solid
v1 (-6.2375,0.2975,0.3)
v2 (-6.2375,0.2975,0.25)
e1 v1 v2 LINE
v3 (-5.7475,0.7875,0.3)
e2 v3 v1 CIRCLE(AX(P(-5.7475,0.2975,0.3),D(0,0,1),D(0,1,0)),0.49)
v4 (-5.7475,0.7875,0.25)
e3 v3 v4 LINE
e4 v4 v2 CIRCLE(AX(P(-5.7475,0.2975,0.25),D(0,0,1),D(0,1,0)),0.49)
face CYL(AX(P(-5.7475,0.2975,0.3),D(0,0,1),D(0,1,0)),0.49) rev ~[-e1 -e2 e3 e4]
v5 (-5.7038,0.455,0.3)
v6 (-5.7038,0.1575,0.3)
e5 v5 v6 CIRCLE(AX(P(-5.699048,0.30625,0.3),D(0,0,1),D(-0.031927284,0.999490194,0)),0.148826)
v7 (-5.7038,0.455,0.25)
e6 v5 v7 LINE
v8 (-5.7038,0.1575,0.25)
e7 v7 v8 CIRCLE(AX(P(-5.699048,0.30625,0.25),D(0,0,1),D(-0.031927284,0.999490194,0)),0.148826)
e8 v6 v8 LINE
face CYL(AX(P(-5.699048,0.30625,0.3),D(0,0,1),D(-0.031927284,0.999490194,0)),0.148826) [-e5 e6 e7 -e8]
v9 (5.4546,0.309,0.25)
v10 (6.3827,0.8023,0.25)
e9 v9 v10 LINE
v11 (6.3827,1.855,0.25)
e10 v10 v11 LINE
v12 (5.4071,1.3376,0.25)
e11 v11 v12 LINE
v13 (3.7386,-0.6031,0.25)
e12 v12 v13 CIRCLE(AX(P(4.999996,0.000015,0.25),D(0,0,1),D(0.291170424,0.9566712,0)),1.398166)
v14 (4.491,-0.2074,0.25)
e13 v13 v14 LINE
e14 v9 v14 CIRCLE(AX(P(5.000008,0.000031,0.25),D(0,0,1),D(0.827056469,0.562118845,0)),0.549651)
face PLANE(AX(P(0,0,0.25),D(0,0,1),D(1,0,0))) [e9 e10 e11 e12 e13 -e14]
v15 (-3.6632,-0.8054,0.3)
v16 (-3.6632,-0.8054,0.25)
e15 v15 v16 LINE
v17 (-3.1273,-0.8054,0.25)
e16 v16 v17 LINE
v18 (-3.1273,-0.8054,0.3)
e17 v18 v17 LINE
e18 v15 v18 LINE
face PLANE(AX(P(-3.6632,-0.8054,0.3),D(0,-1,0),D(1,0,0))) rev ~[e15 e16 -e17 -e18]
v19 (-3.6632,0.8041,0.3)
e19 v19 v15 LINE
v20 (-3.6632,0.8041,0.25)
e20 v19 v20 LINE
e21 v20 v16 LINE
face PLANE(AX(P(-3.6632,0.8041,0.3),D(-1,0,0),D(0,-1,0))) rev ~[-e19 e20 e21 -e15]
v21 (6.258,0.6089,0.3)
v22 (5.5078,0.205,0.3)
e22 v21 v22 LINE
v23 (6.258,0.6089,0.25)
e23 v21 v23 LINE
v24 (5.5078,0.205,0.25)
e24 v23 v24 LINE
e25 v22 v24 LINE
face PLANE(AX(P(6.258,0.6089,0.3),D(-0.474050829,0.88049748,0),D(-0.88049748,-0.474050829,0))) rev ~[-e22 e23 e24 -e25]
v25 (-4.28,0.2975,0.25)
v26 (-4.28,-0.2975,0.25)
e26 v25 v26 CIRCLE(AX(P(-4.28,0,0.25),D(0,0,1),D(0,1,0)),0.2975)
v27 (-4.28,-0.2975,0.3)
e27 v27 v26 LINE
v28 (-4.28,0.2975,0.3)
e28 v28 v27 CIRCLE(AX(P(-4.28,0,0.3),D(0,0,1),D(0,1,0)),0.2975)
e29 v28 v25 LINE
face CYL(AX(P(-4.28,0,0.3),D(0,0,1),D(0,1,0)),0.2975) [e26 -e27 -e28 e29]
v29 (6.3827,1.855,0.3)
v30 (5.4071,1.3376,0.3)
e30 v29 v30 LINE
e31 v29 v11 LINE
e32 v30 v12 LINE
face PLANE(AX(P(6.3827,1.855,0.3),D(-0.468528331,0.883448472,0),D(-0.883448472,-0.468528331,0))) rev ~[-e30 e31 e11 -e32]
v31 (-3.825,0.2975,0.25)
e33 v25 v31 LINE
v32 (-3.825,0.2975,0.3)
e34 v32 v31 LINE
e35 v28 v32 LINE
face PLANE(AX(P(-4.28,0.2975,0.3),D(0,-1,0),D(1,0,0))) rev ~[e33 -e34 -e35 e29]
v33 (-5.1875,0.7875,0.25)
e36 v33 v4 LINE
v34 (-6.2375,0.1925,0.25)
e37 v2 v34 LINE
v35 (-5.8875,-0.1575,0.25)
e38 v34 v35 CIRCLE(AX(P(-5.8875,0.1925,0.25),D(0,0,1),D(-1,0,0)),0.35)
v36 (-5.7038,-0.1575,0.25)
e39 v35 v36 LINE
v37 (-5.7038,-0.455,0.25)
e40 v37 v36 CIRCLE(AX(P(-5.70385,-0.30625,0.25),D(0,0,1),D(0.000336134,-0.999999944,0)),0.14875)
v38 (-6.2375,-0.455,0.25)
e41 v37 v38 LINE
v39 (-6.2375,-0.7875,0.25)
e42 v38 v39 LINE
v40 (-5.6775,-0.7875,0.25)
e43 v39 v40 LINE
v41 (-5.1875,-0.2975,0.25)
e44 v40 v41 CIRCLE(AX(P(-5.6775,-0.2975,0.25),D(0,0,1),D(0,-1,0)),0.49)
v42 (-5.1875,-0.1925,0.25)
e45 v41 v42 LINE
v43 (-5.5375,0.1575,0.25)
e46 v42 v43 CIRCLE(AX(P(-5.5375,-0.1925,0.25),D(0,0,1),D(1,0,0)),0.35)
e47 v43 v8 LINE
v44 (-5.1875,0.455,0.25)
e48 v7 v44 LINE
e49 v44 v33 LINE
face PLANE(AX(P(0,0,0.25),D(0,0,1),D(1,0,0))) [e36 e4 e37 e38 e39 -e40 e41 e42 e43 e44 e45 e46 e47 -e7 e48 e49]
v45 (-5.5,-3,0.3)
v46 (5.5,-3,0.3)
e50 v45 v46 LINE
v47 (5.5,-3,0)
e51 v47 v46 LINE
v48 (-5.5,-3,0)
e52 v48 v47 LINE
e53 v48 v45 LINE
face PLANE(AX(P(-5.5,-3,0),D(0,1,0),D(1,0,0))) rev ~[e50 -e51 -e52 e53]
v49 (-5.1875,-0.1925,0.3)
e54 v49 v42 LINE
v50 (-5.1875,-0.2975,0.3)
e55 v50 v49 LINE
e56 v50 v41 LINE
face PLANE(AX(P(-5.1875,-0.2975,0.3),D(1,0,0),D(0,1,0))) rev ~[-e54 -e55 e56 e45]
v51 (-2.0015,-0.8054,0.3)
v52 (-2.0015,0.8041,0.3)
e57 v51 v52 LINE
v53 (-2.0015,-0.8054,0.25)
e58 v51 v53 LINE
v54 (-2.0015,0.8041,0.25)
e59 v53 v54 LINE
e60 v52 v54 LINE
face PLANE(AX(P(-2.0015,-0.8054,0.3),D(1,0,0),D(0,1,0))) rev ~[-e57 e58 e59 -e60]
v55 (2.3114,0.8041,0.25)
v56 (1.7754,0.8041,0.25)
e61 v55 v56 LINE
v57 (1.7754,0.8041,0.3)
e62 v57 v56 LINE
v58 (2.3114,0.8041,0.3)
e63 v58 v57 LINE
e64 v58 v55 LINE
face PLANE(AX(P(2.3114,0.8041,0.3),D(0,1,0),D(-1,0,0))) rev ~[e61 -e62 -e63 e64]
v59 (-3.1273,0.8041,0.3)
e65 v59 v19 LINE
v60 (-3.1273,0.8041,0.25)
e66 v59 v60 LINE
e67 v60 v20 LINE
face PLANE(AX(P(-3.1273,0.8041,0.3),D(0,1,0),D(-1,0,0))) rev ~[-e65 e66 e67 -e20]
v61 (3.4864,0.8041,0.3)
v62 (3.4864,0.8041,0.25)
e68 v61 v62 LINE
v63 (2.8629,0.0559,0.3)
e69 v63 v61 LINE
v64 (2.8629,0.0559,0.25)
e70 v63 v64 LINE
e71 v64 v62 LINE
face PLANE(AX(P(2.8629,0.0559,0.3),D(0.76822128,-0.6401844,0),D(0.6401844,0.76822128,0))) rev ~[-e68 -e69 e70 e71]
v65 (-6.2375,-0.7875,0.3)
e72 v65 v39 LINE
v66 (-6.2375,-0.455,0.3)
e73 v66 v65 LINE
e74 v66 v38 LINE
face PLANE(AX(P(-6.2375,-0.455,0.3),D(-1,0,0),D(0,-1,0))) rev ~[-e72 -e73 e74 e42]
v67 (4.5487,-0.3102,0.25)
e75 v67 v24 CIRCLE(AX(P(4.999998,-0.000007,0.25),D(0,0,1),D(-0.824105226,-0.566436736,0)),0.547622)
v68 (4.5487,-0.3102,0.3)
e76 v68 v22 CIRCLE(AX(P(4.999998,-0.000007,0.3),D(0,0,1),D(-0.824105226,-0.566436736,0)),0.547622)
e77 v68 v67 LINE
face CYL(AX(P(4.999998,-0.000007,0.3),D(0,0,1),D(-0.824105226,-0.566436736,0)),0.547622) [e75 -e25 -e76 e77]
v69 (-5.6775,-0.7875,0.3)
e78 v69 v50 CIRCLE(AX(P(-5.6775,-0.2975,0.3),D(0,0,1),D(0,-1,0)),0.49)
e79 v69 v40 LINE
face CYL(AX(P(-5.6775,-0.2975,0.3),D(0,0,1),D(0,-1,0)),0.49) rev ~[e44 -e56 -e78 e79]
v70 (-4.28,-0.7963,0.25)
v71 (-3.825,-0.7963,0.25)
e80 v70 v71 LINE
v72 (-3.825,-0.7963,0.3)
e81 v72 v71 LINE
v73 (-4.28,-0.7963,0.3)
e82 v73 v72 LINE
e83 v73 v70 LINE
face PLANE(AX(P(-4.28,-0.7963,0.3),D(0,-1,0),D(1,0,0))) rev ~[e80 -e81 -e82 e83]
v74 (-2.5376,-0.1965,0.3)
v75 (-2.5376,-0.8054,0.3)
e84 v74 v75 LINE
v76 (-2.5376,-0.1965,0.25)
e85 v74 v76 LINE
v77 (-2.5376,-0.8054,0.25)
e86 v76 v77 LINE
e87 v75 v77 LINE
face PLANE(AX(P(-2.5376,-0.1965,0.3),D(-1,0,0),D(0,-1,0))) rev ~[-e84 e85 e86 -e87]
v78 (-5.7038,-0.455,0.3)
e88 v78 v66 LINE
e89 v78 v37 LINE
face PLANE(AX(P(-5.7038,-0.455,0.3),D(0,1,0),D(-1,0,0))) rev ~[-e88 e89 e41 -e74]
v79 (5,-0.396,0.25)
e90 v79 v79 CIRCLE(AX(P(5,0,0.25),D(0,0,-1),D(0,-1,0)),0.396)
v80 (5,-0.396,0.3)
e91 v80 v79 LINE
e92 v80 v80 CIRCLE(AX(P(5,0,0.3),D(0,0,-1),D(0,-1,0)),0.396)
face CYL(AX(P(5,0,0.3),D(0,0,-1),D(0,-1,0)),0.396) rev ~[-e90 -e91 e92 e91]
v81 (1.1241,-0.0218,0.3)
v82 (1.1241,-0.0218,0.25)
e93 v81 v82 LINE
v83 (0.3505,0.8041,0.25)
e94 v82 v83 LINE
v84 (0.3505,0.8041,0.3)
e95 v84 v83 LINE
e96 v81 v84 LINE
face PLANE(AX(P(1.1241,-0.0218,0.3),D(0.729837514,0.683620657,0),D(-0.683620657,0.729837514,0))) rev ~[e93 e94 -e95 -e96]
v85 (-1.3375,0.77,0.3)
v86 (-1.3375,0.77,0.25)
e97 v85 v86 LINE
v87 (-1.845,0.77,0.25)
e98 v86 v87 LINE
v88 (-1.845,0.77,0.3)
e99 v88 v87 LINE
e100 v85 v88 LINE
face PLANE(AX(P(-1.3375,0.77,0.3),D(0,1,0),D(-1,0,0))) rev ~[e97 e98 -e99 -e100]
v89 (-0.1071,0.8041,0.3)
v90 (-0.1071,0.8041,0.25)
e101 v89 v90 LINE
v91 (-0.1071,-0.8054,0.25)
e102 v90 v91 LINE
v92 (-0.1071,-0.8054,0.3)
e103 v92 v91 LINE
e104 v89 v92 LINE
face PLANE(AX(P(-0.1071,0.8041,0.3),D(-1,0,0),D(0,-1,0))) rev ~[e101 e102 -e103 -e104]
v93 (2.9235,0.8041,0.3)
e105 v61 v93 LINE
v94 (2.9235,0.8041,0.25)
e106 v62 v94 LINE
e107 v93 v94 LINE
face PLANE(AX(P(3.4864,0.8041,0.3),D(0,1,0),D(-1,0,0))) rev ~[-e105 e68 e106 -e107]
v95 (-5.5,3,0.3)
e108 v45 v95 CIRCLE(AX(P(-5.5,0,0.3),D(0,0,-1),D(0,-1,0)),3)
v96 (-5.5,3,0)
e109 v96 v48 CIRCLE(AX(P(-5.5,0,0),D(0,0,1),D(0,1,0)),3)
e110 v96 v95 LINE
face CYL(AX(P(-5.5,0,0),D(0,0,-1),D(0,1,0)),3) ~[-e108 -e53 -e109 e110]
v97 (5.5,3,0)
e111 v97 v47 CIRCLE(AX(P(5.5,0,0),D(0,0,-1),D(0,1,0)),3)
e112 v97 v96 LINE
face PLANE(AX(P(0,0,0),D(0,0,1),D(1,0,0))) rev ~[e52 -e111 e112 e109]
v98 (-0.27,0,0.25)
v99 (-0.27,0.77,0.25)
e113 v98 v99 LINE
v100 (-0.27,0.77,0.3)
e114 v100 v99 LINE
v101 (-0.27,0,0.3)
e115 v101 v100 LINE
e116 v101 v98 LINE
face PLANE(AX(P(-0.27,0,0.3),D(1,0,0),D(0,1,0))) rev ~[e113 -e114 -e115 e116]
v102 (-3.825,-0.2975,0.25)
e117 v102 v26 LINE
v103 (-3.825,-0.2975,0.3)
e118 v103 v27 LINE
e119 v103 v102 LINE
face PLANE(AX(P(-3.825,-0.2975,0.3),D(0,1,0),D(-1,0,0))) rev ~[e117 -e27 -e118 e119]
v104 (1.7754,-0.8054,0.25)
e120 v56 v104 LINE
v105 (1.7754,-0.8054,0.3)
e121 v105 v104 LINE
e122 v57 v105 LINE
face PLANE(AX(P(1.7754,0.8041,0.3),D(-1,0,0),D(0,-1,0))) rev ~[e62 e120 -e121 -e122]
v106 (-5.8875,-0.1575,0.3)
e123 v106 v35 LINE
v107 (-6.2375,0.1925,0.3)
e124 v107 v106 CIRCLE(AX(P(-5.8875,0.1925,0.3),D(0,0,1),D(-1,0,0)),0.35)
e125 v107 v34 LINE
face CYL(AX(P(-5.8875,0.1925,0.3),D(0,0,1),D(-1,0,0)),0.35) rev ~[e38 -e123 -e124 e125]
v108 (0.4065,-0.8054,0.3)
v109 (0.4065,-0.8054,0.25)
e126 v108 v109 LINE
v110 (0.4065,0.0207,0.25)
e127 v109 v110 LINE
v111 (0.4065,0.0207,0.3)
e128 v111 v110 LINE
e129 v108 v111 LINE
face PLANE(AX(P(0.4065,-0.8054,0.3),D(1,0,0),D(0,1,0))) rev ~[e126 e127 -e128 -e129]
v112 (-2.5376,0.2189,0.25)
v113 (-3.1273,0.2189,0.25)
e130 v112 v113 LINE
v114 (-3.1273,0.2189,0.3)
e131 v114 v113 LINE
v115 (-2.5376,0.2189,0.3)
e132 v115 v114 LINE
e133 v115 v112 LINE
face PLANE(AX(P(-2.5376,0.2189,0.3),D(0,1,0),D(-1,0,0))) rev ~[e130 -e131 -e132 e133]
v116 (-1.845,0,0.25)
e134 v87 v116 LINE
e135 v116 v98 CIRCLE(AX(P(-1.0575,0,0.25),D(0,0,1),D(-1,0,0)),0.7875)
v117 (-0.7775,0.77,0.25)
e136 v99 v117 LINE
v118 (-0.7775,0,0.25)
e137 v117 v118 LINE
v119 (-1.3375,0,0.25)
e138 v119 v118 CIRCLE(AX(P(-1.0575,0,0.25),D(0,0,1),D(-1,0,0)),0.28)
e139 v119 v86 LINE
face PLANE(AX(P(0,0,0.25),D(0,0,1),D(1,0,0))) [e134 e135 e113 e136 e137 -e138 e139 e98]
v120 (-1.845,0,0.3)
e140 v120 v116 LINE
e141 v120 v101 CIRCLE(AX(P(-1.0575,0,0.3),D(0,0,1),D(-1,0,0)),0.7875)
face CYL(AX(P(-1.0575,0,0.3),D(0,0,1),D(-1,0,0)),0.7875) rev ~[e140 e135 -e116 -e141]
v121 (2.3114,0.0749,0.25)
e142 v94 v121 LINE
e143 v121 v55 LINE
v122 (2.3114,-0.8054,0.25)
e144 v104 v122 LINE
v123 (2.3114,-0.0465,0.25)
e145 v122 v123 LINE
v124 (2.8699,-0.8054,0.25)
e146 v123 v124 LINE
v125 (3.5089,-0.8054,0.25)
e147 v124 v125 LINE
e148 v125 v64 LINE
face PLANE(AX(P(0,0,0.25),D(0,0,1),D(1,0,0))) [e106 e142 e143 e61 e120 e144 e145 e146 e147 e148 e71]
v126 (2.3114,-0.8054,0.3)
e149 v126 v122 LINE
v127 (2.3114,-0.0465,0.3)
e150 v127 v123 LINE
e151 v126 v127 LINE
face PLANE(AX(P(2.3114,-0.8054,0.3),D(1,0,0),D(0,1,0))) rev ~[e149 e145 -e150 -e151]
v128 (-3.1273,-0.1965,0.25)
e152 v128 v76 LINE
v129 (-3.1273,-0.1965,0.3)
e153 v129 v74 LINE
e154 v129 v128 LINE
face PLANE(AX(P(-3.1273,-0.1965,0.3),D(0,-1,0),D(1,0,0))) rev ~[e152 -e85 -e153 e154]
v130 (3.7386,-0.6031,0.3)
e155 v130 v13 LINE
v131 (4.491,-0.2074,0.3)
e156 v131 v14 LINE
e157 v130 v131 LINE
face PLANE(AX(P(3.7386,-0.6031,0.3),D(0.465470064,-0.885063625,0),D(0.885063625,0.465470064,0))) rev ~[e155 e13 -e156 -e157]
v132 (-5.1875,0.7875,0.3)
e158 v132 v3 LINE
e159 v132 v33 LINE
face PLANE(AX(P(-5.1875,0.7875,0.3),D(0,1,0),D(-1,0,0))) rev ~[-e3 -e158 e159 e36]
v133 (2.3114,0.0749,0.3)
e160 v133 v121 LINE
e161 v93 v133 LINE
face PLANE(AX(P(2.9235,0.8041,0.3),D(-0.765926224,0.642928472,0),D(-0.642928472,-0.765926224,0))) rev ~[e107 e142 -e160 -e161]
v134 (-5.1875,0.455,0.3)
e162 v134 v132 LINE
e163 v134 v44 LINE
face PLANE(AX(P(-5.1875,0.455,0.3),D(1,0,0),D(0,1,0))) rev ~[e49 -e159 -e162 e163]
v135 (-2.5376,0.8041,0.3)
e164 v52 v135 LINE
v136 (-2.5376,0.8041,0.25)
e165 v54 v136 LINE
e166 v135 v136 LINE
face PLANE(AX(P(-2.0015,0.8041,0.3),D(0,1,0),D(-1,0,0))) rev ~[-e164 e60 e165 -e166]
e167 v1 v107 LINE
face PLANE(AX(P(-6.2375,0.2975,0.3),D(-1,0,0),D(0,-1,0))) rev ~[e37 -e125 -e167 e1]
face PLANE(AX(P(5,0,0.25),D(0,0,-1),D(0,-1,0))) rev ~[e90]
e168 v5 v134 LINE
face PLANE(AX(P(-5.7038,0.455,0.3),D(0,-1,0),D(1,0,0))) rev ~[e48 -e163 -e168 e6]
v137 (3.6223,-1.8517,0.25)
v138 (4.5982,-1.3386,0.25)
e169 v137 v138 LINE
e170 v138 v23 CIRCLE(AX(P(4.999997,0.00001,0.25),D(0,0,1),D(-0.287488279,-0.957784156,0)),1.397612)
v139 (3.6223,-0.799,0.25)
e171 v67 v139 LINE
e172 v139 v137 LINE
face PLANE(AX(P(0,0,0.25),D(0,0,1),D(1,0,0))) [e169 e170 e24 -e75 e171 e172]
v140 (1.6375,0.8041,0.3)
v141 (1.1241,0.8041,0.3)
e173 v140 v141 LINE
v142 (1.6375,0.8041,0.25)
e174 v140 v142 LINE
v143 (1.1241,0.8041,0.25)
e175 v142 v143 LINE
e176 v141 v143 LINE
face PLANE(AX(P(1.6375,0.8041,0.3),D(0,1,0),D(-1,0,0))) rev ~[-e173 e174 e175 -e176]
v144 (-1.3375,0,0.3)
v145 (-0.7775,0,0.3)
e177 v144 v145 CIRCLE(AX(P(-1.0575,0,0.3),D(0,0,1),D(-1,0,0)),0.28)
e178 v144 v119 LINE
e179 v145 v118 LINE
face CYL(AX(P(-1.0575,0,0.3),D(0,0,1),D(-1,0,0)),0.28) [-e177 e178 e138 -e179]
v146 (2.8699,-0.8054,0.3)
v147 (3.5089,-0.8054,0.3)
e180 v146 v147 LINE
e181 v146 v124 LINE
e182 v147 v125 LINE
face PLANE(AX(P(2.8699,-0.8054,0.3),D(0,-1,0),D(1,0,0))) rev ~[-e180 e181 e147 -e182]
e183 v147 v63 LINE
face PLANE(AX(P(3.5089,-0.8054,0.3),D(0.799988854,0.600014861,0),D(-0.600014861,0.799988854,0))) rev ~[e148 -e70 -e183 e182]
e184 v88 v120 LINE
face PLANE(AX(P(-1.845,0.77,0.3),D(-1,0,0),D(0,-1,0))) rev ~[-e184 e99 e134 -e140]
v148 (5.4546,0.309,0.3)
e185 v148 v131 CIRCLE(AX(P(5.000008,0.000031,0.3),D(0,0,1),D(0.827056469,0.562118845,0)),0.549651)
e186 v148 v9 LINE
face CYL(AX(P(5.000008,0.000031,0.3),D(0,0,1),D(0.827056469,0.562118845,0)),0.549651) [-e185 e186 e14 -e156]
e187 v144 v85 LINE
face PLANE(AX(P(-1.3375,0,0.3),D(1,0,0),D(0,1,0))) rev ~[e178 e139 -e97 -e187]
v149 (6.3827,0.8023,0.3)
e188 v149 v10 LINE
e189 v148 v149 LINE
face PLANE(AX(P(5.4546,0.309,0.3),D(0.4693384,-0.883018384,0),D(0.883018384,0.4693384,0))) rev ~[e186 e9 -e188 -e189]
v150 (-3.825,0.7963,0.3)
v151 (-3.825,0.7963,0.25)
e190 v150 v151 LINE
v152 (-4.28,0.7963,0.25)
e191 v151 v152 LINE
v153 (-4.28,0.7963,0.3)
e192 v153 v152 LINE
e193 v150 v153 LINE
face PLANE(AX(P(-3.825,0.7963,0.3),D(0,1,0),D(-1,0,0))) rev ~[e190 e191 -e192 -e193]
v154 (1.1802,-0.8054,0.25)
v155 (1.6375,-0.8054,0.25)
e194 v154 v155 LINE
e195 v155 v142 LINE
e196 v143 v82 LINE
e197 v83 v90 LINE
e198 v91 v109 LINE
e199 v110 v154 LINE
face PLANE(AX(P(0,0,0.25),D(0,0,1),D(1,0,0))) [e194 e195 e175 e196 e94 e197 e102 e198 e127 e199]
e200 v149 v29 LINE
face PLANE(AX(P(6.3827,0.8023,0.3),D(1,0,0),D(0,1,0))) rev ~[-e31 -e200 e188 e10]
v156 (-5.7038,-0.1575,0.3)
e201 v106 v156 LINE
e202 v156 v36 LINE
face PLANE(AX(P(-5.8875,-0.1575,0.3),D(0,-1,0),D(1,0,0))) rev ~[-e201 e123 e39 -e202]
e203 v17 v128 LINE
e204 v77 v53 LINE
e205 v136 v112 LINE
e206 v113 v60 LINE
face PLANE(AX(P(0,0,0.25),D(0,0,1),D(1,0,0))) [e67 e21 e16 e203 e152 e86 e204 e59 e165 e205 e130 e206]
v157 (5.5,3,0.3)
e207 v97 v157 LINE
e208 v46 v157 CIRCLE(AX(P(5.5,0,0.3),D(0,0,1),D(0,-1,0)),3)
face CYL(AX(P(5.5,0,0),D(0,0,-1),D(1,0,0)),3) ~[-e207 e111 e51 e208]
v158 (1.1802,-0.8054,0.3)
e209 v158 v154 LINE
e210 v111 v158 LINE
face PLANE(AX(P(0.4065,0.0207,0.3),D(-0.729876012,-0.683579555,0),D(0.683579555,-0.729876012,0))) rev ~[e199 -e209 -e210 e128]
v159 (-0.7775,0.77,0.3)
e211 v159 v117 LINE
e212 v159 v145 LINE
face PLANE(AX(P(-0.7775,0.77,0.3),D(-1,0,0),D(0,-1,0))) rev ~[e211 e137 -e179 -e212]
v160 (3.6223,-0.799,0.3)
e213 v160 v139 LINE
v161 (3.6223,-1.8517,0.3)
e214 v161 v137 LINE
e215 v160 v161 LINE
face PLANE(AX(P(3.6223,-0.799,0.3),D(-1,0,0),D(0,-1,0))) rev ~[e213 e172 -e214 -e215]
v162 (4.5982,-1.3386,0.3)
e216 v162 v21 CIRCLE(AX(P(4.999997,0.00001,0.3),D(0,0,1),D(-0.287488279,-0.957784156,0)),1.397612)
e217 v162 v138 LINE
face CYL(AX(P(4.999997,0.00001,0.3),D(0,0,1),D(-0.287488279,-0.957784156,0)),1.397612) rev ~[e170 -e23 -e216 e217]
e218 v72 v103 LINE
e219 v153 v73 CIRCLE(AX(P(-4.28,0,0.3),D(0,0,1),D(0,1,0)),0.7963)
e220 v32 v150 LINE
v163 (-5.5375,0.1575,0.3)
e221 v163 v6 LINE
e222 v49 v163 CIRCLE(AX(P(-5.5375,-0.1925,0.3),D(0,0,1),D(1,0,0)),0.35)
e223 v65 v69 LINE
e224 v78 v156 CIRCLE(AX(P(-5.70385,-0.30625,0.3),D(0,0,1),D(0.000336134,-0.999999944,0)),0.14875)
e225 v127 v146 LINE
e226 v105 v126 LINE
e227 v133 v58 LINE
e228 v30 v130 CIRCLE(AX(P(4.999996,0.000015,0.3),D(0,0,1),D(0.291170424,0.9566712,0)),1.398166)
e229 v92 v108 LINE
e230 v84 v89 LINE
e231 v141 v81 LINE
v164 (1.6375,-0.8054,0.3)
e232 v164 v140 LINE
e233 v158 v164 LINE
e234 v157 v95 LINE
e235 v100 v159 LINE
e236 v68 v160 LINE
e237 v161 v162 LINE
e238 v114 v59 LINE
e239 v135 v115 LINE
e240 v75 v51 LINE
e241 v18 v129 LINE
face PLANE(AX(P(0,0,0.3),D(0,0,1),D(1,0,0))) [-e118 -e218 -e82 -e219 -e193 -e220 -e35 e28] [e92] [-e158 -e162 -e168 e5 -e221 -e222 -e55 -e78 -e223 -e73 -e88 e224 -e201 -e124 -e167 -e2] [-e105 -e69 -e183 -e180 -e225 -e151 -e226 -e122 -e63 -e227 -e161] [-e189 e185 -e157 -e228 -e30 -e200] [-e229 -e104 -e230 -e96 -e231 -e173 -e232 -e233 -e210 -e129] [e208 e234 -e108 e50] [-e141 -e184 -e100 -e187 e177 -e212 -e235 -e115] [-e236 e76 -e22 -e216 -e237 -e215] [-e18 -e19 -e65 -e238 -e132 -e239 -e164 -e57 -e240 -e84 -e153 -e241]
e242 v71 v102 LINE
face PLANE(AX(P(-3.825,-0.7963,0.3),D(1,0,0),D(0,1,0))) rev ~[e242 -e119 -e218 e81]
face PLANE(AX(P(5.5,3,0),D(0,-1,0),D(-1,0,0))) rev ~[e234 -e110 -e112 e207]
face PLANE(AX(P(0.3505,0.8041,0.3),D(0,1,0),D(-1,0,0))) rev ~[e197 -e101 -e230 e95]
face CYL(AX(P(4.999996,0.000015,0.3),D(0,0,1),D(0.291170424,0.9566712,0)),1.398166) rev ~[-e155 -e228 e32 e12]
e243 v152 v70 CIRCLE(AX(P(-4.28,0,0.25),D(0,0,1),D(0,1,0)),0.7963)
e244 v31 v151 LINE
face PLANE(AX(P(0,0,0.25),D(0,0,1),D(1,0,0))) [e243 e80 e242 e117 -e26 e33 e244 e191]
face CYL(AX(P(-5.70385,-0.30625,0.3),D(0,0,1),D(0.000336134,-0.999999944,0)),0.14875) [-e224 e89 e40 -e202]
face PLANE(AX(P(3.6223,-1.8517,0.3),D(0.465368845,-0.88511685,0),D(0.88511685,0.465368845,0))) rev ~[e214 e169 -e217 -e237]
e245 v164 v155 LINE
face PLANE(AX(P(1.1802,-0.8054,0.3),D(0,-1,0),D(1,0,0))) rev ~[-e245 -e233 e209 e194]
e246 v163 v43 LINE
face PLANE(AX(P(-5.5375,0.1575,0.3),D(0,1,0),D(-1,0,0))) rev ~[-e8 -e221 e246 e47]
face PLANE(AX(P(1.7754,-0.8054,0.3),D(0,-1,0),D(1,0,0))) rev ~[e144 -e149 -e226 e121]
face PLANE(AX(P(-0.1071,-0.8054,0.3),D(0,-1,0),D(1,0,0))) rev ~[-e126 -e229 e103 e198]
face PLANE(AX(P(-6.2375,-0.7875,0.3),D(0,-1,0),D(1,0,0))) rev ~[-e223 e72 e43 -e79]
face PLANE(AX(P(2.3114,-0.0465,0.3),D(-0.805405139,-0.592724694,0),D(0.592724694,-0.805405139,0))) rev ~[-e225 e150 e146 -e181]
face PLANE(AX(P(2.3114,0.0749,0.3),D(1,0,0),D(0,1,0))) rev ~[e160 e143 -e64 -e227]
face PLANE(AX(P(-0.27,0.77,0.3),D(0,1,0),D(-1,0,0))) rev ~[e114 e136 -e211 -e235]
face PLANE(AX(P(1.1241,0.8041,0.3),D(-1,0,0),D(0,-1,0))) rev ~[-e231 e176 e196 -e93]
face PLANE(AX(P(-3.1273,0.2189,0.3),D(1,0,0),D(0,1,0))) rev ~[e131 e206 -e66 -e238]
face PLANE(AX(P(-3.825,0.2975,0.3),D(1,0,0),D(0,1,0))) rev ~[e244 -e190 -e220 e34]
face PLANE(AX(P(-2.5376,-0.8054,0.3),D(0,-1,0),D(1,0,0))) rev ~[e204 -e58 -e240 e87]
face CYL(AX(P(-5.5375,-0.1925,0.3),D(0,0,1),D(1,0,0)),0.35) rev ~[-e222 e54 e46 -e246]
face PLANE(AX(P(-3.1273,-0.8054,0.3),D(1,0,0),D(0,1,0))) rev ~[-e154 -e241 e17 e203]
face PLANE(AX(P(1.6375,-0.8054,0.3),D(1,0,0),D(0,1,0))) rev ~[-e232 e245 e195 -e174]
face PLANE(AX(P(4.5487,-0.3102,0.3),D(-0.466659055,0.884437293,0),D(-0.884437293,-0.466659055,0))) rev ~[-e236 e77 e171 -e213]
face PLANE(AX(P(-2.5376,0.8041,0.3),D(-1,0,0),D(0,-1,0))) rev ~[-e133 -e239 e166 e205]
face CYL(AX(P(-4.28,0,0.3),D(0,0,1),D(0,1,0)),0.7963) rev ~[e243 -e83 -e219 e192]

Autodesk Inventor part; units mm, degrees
sketch "Sketch_1" plane through (0, 0, 0) normal (0, 0, 1) x (1, 0, 0)
  arc A0 (-8.5, 0) -> (-5.5, -3) centre (-5.5, 0) ccw
  line L0 (-5.5, -3) -> (5.5, -3)
  arc A1 (5.5, -3) -> (8.5, 0) centre (5.5, 0) ccw
  arc A2 (8.5, 0) -> (5.5, 3) centre (5.5, 0) ccw
  line L1 (5.5, 3) -> (-5.5, 3)
  arc A3 (-5.5, 3) -> (-8.5, 0) centre (-5.5, 0) ccw
extrude "Extrusion1" add sketch "Sketch_1" along normal blind 0.3
sketch "Sketch_13" plane through (0, 0, 0.3) normal (0, 0, 1) x (1, 0, 0)
  line L0 (-3.6632, 0.8041) -> (-3.6632, -0.8054)
  line L1 (-3.6632, -0.8054) -> (-3.1273, -0.8054)
  line L2 (-3.1273, -0.8054) -> (-3.1273, -0.1965)
  line L3 (-3.1273, -0.1965) -> (-2.5376, -0.1965)
  line L4 (-2.5376, -0.1965) -> (-2.5376, -0.8054)
  line L5 (-2.5376, -0.8054) -> (-2.0015, -0.8054)
  line L6 (-2.0015, -0.8054) -> (-2.0015, 0.8041)
  line L7 (-2.0015, 0.8041) -> (-2.5376, 0.8041)
  line L8 (-2.5376, 0.8041) -> (-2.5376, 0.2189)
  line L9 (-2.5376, 0.2189) -> (-3.1273, 0.2189)
  line L10 (-3.1273, 0.2189) -> (-3.1273, 0.8041)
  line L11 (-3.1273, 0.8041) -> (-3.6632, 0.8041)
extrude "Extrusion2" cut sketch "Sketch_13" against normal blind 0.05
sketch "Sketch_15" plane through (0, 0, 0.3) normal (0, 0, 1) x (1, 0, 0)
  line L0 (-0.1071, 0.8041) -> (-0.1071, -0.8054)
  line L1 (-0.1071, -0.8054) -> (0.4065, -0.8054)
  line L2 (0.4065, -0.8054) -> (0.4065, 0.0207)
  line L3 (0.4065, 0.0207) -> (1.1802, -0.8054)
  line L4 (1.1802, -0.8054) -> (1.6375, -0.8054)
  line L5 (1.6375, -0.8054) -> (1.6375, 0.8041)
  line L6 (1.6375, 0.8041) -> (1.1241, 0.8041)
  line L7 (1.1241, 0.8041) -> (1.1241, -0.0218)
  line L8 (1.1241, -0.0218) -> (0.3505, 0.8041)
  line L9 (0.3505, 0.8041) -> (-0.1071, 0.8041)
extrude "Extrusion3" cut sketch "Sketch_15" against normal blind 0.05
sketch "Sketch_16" plane through (0, 0, 0.3) normal (0, 0, 1) x (1, 0, 0)
  line L0 (1.7754, 0.8041) -> (1.7754, -0.8054)
  line L1 (1.7754, -0.8054) -> (2.3114, -0.8054)
  line L2 (2.3114, -0.8054) -> (2.3114, -0.0465)
  line L3 (2.3114, -0.0465) -> (2.8699, -0.8054)
  line L4 (2.8699, -0.8054) -> (3.5089, -0.8054)
  line L5 (3.5089, -0.8054) -> (2.8629, 0.0559)
  line L6 (2.8629, 0.0559) -> (3.4864, 0.8041)
  line L7 (3.4864, 0.8041) -> (2.9235, 0.8041)
  line L8 (2.9235, 0.8041) -> (2.3114, 0.0749)
  line L9 (2.3114, 0.0749) -> (2.3114, 0.8041)
  line L10 (2.3114, 0.8041) -> (1.7754, 0.8041)
extrude "Extrusion4" cut sketch "Sketch_16" against normal blind 0.05
sketch "Sketch_5" plane through (0, 0, 0.3) normal (0, 0, 1) x (1, 0, 0)
  arc A0 (-6.2375, 0.1925) -> (-5.8875, -0.1575) centre (-5.8875, 0.1925) ccw
  line L0 (-5.8875, -0.1575) -> (-5.7038, -0.1575)
  arc A1 (-5.7038, -0.455) -> (-5.7038, -0.1575) centre (-5.7038, -0.3063) ccw
  line L1 (-5.7038, -0.455) -> (-6.2375, -0.455)
  line L2 (-6.2375, -0.455) -> (-6.2375, -0.7875)
  line L3 (-6.2375, -0.7875) -> (-5.6775, -0.7875)
  arc A2 (-5.6775, -0.7875) -> (-5.1875, -0.2975) centre (-5.6775, -0.2975) ccw
  line L4 (-5.1875, -0.2975) -> (-5.1875, -0.1925)
  arc A3 (-5.1875, -0.1925) -> (-5.5375, 0.1575) centre (-5.5375, -0.1925) ccw
  line L5 (-5.5375, 0.1575) -> (-5.7038, 0.1575)
  arc A4 (-5.7038, 0.455) -> (-5.7038, 0.1575) centre (-5.6991, 0.3063) ccw
  line L6 (-5.7038, 0.455) -> (-5.1875, 0.455)
  line L7 (-5.1875, 0.455) -> (-5.1875, 0.7875)
  line L8 (-5.1875, 0.7875) -> (-5.7475, 0.7875)
  arc A5 (-5.7475, 0.7875) -> (-6.2375, 0.2975) centre (-5.7475, 0.2975) ccw
  line L9 (-6.2375, 0.2975) -> (-6.2375, 0.1925)
extrude "Extrusion5" cut sketch "Sketch_5" against normal blind 0.05
sketch "Sketch_6" plane through (0, 0, 0.3) normal (0, 0, 1) x (1, 0, 0)
  arc A0 (-4.28, 0.7963) -> (-4.28, -0.7963) centre (-4.28, 0) ccw
  line L0 (-4.28, -0.7963) -> (-3.825, -0.7963)
  line L1 (-3.825, -0.7963) -> (-3.825, -0.2975)
  line L2 (-3.825, -0.2975) -> (-4.28, -0.2975)
  arc A1 (-4.28, 0.2975) -> (-4.28, -0.2975) centre (-4.28, 0) ccw
  line L3 (-4.28, 0.2975) -> (-3.825, 0.2975)
  line L4 (-3.825, 0.2975) -> (-3.825, 0.7963)
  line L5 (-3.825, 0.7963) -> (-4.28, 0.7963)
extrude "Extrusion6" cut sketch "Sketch_6" against normal blind 0.05
sketch "Sketch_7" plane through (0, 0, 0.3) normal (0, 0, 1) x (1, 0, 0)
  line L0 (-1.845, 0.77) -> (-1.845, 0)
  arc A0 (-1.845, 0) -> (-0.27, 0) centre (-1.0575, 0) ccw
  line L1 (-0.27, 0) -> (-0.27, 0.77)
  line L2 (-0.27, 0.77) -> (-0.7775, 0.77)
  line L3 (-0.7775, 0.77) -> (-0.7775, 0)
  arc A1 (-1.3375, 0) -> (-0.7775, 0) centre (-1.0575, 0) ccw
  line L4 (-1.3375, 0) -> (-1.3375, 0.77)
  line L5 (-1.3375, 0.77) -> (-1.845, 0.77)
extrude "Extrusion7" cut sketch "Sketch_7" against normal blind 0.05
sketch "Sketch8" plane through (0, 0, 0.3) normal (0, 0, 1) x (1, 0, 0)
  point P0 (5, 0)
hole "Hole1" at (5, 0, 0.3) direction (0, 0, -1) diameter 0.792 depth 0.05
sketch "Sketch_3" plane through (0, 0, 0.3) normal (0, 0, 1) x (1, 0, 0)
  arc A0 (5.4071, 1.3376) -> (3.7386, -0.6031) centre (5, 0) ccw
  line L0 (3.7386, -0.6031) -> (4.491, -0.2074)
  arc A1 (5.4546, 0.309) -> (4.491, -0.2074) centre (5, 0) ccw
  line L1 (5.4546, 0.309) -> (6.3827, 0.8023)
  line L2 (6.3827, 0.8023) -> (6.3827, 1.855)
  line L3 (6.3827, 1.855) -> (5.4071, 1.3376)
extrude "Extrusion8" cut sketch "Sketch_3" against normal blind 0.05
sketch "Sketch_4" plane through (0, 0, 0.3) normal (0, 0, 1) x (1, 0, 0)
  line L0 (3.6223, -0.799) -> (3.6223, -1.8517)
  line L1 (3.6223, -1.8517) -> (4.5982, -1.3386)
  arc A0 (4.5982, -1.3386) -> (6.258, 0.6089) centre (5, 0) ccw
  line L2 (6.258, 0.6089) -> (5.5078, 0.205)
  arc A1 (4.5487, -0.3102) -> (5.5078, 0.205) centre (5, 0) ccw
  line L3 (4.5487, -0.3102) -> (3.6223, -0.799)
extrude "Extrusion9" cut sketch "Sketch_4" against normal blind 0.05
ref_plane "aluschild_XY" through (0, 0, 0) normal (0, 0, 1) x (1, 0, 0)
ref_plane "aluschild_YZ" through (0, 0, 0) normal (1, 0, 0) x (0, 1, 0)
ref_plane "aluschild_ZX" through (0, 0, 0) normal (0, 1, 0) x (0, 0, 1)
properties part number "SCHUNK-9954530 Typenschild 6x17x0.3"
